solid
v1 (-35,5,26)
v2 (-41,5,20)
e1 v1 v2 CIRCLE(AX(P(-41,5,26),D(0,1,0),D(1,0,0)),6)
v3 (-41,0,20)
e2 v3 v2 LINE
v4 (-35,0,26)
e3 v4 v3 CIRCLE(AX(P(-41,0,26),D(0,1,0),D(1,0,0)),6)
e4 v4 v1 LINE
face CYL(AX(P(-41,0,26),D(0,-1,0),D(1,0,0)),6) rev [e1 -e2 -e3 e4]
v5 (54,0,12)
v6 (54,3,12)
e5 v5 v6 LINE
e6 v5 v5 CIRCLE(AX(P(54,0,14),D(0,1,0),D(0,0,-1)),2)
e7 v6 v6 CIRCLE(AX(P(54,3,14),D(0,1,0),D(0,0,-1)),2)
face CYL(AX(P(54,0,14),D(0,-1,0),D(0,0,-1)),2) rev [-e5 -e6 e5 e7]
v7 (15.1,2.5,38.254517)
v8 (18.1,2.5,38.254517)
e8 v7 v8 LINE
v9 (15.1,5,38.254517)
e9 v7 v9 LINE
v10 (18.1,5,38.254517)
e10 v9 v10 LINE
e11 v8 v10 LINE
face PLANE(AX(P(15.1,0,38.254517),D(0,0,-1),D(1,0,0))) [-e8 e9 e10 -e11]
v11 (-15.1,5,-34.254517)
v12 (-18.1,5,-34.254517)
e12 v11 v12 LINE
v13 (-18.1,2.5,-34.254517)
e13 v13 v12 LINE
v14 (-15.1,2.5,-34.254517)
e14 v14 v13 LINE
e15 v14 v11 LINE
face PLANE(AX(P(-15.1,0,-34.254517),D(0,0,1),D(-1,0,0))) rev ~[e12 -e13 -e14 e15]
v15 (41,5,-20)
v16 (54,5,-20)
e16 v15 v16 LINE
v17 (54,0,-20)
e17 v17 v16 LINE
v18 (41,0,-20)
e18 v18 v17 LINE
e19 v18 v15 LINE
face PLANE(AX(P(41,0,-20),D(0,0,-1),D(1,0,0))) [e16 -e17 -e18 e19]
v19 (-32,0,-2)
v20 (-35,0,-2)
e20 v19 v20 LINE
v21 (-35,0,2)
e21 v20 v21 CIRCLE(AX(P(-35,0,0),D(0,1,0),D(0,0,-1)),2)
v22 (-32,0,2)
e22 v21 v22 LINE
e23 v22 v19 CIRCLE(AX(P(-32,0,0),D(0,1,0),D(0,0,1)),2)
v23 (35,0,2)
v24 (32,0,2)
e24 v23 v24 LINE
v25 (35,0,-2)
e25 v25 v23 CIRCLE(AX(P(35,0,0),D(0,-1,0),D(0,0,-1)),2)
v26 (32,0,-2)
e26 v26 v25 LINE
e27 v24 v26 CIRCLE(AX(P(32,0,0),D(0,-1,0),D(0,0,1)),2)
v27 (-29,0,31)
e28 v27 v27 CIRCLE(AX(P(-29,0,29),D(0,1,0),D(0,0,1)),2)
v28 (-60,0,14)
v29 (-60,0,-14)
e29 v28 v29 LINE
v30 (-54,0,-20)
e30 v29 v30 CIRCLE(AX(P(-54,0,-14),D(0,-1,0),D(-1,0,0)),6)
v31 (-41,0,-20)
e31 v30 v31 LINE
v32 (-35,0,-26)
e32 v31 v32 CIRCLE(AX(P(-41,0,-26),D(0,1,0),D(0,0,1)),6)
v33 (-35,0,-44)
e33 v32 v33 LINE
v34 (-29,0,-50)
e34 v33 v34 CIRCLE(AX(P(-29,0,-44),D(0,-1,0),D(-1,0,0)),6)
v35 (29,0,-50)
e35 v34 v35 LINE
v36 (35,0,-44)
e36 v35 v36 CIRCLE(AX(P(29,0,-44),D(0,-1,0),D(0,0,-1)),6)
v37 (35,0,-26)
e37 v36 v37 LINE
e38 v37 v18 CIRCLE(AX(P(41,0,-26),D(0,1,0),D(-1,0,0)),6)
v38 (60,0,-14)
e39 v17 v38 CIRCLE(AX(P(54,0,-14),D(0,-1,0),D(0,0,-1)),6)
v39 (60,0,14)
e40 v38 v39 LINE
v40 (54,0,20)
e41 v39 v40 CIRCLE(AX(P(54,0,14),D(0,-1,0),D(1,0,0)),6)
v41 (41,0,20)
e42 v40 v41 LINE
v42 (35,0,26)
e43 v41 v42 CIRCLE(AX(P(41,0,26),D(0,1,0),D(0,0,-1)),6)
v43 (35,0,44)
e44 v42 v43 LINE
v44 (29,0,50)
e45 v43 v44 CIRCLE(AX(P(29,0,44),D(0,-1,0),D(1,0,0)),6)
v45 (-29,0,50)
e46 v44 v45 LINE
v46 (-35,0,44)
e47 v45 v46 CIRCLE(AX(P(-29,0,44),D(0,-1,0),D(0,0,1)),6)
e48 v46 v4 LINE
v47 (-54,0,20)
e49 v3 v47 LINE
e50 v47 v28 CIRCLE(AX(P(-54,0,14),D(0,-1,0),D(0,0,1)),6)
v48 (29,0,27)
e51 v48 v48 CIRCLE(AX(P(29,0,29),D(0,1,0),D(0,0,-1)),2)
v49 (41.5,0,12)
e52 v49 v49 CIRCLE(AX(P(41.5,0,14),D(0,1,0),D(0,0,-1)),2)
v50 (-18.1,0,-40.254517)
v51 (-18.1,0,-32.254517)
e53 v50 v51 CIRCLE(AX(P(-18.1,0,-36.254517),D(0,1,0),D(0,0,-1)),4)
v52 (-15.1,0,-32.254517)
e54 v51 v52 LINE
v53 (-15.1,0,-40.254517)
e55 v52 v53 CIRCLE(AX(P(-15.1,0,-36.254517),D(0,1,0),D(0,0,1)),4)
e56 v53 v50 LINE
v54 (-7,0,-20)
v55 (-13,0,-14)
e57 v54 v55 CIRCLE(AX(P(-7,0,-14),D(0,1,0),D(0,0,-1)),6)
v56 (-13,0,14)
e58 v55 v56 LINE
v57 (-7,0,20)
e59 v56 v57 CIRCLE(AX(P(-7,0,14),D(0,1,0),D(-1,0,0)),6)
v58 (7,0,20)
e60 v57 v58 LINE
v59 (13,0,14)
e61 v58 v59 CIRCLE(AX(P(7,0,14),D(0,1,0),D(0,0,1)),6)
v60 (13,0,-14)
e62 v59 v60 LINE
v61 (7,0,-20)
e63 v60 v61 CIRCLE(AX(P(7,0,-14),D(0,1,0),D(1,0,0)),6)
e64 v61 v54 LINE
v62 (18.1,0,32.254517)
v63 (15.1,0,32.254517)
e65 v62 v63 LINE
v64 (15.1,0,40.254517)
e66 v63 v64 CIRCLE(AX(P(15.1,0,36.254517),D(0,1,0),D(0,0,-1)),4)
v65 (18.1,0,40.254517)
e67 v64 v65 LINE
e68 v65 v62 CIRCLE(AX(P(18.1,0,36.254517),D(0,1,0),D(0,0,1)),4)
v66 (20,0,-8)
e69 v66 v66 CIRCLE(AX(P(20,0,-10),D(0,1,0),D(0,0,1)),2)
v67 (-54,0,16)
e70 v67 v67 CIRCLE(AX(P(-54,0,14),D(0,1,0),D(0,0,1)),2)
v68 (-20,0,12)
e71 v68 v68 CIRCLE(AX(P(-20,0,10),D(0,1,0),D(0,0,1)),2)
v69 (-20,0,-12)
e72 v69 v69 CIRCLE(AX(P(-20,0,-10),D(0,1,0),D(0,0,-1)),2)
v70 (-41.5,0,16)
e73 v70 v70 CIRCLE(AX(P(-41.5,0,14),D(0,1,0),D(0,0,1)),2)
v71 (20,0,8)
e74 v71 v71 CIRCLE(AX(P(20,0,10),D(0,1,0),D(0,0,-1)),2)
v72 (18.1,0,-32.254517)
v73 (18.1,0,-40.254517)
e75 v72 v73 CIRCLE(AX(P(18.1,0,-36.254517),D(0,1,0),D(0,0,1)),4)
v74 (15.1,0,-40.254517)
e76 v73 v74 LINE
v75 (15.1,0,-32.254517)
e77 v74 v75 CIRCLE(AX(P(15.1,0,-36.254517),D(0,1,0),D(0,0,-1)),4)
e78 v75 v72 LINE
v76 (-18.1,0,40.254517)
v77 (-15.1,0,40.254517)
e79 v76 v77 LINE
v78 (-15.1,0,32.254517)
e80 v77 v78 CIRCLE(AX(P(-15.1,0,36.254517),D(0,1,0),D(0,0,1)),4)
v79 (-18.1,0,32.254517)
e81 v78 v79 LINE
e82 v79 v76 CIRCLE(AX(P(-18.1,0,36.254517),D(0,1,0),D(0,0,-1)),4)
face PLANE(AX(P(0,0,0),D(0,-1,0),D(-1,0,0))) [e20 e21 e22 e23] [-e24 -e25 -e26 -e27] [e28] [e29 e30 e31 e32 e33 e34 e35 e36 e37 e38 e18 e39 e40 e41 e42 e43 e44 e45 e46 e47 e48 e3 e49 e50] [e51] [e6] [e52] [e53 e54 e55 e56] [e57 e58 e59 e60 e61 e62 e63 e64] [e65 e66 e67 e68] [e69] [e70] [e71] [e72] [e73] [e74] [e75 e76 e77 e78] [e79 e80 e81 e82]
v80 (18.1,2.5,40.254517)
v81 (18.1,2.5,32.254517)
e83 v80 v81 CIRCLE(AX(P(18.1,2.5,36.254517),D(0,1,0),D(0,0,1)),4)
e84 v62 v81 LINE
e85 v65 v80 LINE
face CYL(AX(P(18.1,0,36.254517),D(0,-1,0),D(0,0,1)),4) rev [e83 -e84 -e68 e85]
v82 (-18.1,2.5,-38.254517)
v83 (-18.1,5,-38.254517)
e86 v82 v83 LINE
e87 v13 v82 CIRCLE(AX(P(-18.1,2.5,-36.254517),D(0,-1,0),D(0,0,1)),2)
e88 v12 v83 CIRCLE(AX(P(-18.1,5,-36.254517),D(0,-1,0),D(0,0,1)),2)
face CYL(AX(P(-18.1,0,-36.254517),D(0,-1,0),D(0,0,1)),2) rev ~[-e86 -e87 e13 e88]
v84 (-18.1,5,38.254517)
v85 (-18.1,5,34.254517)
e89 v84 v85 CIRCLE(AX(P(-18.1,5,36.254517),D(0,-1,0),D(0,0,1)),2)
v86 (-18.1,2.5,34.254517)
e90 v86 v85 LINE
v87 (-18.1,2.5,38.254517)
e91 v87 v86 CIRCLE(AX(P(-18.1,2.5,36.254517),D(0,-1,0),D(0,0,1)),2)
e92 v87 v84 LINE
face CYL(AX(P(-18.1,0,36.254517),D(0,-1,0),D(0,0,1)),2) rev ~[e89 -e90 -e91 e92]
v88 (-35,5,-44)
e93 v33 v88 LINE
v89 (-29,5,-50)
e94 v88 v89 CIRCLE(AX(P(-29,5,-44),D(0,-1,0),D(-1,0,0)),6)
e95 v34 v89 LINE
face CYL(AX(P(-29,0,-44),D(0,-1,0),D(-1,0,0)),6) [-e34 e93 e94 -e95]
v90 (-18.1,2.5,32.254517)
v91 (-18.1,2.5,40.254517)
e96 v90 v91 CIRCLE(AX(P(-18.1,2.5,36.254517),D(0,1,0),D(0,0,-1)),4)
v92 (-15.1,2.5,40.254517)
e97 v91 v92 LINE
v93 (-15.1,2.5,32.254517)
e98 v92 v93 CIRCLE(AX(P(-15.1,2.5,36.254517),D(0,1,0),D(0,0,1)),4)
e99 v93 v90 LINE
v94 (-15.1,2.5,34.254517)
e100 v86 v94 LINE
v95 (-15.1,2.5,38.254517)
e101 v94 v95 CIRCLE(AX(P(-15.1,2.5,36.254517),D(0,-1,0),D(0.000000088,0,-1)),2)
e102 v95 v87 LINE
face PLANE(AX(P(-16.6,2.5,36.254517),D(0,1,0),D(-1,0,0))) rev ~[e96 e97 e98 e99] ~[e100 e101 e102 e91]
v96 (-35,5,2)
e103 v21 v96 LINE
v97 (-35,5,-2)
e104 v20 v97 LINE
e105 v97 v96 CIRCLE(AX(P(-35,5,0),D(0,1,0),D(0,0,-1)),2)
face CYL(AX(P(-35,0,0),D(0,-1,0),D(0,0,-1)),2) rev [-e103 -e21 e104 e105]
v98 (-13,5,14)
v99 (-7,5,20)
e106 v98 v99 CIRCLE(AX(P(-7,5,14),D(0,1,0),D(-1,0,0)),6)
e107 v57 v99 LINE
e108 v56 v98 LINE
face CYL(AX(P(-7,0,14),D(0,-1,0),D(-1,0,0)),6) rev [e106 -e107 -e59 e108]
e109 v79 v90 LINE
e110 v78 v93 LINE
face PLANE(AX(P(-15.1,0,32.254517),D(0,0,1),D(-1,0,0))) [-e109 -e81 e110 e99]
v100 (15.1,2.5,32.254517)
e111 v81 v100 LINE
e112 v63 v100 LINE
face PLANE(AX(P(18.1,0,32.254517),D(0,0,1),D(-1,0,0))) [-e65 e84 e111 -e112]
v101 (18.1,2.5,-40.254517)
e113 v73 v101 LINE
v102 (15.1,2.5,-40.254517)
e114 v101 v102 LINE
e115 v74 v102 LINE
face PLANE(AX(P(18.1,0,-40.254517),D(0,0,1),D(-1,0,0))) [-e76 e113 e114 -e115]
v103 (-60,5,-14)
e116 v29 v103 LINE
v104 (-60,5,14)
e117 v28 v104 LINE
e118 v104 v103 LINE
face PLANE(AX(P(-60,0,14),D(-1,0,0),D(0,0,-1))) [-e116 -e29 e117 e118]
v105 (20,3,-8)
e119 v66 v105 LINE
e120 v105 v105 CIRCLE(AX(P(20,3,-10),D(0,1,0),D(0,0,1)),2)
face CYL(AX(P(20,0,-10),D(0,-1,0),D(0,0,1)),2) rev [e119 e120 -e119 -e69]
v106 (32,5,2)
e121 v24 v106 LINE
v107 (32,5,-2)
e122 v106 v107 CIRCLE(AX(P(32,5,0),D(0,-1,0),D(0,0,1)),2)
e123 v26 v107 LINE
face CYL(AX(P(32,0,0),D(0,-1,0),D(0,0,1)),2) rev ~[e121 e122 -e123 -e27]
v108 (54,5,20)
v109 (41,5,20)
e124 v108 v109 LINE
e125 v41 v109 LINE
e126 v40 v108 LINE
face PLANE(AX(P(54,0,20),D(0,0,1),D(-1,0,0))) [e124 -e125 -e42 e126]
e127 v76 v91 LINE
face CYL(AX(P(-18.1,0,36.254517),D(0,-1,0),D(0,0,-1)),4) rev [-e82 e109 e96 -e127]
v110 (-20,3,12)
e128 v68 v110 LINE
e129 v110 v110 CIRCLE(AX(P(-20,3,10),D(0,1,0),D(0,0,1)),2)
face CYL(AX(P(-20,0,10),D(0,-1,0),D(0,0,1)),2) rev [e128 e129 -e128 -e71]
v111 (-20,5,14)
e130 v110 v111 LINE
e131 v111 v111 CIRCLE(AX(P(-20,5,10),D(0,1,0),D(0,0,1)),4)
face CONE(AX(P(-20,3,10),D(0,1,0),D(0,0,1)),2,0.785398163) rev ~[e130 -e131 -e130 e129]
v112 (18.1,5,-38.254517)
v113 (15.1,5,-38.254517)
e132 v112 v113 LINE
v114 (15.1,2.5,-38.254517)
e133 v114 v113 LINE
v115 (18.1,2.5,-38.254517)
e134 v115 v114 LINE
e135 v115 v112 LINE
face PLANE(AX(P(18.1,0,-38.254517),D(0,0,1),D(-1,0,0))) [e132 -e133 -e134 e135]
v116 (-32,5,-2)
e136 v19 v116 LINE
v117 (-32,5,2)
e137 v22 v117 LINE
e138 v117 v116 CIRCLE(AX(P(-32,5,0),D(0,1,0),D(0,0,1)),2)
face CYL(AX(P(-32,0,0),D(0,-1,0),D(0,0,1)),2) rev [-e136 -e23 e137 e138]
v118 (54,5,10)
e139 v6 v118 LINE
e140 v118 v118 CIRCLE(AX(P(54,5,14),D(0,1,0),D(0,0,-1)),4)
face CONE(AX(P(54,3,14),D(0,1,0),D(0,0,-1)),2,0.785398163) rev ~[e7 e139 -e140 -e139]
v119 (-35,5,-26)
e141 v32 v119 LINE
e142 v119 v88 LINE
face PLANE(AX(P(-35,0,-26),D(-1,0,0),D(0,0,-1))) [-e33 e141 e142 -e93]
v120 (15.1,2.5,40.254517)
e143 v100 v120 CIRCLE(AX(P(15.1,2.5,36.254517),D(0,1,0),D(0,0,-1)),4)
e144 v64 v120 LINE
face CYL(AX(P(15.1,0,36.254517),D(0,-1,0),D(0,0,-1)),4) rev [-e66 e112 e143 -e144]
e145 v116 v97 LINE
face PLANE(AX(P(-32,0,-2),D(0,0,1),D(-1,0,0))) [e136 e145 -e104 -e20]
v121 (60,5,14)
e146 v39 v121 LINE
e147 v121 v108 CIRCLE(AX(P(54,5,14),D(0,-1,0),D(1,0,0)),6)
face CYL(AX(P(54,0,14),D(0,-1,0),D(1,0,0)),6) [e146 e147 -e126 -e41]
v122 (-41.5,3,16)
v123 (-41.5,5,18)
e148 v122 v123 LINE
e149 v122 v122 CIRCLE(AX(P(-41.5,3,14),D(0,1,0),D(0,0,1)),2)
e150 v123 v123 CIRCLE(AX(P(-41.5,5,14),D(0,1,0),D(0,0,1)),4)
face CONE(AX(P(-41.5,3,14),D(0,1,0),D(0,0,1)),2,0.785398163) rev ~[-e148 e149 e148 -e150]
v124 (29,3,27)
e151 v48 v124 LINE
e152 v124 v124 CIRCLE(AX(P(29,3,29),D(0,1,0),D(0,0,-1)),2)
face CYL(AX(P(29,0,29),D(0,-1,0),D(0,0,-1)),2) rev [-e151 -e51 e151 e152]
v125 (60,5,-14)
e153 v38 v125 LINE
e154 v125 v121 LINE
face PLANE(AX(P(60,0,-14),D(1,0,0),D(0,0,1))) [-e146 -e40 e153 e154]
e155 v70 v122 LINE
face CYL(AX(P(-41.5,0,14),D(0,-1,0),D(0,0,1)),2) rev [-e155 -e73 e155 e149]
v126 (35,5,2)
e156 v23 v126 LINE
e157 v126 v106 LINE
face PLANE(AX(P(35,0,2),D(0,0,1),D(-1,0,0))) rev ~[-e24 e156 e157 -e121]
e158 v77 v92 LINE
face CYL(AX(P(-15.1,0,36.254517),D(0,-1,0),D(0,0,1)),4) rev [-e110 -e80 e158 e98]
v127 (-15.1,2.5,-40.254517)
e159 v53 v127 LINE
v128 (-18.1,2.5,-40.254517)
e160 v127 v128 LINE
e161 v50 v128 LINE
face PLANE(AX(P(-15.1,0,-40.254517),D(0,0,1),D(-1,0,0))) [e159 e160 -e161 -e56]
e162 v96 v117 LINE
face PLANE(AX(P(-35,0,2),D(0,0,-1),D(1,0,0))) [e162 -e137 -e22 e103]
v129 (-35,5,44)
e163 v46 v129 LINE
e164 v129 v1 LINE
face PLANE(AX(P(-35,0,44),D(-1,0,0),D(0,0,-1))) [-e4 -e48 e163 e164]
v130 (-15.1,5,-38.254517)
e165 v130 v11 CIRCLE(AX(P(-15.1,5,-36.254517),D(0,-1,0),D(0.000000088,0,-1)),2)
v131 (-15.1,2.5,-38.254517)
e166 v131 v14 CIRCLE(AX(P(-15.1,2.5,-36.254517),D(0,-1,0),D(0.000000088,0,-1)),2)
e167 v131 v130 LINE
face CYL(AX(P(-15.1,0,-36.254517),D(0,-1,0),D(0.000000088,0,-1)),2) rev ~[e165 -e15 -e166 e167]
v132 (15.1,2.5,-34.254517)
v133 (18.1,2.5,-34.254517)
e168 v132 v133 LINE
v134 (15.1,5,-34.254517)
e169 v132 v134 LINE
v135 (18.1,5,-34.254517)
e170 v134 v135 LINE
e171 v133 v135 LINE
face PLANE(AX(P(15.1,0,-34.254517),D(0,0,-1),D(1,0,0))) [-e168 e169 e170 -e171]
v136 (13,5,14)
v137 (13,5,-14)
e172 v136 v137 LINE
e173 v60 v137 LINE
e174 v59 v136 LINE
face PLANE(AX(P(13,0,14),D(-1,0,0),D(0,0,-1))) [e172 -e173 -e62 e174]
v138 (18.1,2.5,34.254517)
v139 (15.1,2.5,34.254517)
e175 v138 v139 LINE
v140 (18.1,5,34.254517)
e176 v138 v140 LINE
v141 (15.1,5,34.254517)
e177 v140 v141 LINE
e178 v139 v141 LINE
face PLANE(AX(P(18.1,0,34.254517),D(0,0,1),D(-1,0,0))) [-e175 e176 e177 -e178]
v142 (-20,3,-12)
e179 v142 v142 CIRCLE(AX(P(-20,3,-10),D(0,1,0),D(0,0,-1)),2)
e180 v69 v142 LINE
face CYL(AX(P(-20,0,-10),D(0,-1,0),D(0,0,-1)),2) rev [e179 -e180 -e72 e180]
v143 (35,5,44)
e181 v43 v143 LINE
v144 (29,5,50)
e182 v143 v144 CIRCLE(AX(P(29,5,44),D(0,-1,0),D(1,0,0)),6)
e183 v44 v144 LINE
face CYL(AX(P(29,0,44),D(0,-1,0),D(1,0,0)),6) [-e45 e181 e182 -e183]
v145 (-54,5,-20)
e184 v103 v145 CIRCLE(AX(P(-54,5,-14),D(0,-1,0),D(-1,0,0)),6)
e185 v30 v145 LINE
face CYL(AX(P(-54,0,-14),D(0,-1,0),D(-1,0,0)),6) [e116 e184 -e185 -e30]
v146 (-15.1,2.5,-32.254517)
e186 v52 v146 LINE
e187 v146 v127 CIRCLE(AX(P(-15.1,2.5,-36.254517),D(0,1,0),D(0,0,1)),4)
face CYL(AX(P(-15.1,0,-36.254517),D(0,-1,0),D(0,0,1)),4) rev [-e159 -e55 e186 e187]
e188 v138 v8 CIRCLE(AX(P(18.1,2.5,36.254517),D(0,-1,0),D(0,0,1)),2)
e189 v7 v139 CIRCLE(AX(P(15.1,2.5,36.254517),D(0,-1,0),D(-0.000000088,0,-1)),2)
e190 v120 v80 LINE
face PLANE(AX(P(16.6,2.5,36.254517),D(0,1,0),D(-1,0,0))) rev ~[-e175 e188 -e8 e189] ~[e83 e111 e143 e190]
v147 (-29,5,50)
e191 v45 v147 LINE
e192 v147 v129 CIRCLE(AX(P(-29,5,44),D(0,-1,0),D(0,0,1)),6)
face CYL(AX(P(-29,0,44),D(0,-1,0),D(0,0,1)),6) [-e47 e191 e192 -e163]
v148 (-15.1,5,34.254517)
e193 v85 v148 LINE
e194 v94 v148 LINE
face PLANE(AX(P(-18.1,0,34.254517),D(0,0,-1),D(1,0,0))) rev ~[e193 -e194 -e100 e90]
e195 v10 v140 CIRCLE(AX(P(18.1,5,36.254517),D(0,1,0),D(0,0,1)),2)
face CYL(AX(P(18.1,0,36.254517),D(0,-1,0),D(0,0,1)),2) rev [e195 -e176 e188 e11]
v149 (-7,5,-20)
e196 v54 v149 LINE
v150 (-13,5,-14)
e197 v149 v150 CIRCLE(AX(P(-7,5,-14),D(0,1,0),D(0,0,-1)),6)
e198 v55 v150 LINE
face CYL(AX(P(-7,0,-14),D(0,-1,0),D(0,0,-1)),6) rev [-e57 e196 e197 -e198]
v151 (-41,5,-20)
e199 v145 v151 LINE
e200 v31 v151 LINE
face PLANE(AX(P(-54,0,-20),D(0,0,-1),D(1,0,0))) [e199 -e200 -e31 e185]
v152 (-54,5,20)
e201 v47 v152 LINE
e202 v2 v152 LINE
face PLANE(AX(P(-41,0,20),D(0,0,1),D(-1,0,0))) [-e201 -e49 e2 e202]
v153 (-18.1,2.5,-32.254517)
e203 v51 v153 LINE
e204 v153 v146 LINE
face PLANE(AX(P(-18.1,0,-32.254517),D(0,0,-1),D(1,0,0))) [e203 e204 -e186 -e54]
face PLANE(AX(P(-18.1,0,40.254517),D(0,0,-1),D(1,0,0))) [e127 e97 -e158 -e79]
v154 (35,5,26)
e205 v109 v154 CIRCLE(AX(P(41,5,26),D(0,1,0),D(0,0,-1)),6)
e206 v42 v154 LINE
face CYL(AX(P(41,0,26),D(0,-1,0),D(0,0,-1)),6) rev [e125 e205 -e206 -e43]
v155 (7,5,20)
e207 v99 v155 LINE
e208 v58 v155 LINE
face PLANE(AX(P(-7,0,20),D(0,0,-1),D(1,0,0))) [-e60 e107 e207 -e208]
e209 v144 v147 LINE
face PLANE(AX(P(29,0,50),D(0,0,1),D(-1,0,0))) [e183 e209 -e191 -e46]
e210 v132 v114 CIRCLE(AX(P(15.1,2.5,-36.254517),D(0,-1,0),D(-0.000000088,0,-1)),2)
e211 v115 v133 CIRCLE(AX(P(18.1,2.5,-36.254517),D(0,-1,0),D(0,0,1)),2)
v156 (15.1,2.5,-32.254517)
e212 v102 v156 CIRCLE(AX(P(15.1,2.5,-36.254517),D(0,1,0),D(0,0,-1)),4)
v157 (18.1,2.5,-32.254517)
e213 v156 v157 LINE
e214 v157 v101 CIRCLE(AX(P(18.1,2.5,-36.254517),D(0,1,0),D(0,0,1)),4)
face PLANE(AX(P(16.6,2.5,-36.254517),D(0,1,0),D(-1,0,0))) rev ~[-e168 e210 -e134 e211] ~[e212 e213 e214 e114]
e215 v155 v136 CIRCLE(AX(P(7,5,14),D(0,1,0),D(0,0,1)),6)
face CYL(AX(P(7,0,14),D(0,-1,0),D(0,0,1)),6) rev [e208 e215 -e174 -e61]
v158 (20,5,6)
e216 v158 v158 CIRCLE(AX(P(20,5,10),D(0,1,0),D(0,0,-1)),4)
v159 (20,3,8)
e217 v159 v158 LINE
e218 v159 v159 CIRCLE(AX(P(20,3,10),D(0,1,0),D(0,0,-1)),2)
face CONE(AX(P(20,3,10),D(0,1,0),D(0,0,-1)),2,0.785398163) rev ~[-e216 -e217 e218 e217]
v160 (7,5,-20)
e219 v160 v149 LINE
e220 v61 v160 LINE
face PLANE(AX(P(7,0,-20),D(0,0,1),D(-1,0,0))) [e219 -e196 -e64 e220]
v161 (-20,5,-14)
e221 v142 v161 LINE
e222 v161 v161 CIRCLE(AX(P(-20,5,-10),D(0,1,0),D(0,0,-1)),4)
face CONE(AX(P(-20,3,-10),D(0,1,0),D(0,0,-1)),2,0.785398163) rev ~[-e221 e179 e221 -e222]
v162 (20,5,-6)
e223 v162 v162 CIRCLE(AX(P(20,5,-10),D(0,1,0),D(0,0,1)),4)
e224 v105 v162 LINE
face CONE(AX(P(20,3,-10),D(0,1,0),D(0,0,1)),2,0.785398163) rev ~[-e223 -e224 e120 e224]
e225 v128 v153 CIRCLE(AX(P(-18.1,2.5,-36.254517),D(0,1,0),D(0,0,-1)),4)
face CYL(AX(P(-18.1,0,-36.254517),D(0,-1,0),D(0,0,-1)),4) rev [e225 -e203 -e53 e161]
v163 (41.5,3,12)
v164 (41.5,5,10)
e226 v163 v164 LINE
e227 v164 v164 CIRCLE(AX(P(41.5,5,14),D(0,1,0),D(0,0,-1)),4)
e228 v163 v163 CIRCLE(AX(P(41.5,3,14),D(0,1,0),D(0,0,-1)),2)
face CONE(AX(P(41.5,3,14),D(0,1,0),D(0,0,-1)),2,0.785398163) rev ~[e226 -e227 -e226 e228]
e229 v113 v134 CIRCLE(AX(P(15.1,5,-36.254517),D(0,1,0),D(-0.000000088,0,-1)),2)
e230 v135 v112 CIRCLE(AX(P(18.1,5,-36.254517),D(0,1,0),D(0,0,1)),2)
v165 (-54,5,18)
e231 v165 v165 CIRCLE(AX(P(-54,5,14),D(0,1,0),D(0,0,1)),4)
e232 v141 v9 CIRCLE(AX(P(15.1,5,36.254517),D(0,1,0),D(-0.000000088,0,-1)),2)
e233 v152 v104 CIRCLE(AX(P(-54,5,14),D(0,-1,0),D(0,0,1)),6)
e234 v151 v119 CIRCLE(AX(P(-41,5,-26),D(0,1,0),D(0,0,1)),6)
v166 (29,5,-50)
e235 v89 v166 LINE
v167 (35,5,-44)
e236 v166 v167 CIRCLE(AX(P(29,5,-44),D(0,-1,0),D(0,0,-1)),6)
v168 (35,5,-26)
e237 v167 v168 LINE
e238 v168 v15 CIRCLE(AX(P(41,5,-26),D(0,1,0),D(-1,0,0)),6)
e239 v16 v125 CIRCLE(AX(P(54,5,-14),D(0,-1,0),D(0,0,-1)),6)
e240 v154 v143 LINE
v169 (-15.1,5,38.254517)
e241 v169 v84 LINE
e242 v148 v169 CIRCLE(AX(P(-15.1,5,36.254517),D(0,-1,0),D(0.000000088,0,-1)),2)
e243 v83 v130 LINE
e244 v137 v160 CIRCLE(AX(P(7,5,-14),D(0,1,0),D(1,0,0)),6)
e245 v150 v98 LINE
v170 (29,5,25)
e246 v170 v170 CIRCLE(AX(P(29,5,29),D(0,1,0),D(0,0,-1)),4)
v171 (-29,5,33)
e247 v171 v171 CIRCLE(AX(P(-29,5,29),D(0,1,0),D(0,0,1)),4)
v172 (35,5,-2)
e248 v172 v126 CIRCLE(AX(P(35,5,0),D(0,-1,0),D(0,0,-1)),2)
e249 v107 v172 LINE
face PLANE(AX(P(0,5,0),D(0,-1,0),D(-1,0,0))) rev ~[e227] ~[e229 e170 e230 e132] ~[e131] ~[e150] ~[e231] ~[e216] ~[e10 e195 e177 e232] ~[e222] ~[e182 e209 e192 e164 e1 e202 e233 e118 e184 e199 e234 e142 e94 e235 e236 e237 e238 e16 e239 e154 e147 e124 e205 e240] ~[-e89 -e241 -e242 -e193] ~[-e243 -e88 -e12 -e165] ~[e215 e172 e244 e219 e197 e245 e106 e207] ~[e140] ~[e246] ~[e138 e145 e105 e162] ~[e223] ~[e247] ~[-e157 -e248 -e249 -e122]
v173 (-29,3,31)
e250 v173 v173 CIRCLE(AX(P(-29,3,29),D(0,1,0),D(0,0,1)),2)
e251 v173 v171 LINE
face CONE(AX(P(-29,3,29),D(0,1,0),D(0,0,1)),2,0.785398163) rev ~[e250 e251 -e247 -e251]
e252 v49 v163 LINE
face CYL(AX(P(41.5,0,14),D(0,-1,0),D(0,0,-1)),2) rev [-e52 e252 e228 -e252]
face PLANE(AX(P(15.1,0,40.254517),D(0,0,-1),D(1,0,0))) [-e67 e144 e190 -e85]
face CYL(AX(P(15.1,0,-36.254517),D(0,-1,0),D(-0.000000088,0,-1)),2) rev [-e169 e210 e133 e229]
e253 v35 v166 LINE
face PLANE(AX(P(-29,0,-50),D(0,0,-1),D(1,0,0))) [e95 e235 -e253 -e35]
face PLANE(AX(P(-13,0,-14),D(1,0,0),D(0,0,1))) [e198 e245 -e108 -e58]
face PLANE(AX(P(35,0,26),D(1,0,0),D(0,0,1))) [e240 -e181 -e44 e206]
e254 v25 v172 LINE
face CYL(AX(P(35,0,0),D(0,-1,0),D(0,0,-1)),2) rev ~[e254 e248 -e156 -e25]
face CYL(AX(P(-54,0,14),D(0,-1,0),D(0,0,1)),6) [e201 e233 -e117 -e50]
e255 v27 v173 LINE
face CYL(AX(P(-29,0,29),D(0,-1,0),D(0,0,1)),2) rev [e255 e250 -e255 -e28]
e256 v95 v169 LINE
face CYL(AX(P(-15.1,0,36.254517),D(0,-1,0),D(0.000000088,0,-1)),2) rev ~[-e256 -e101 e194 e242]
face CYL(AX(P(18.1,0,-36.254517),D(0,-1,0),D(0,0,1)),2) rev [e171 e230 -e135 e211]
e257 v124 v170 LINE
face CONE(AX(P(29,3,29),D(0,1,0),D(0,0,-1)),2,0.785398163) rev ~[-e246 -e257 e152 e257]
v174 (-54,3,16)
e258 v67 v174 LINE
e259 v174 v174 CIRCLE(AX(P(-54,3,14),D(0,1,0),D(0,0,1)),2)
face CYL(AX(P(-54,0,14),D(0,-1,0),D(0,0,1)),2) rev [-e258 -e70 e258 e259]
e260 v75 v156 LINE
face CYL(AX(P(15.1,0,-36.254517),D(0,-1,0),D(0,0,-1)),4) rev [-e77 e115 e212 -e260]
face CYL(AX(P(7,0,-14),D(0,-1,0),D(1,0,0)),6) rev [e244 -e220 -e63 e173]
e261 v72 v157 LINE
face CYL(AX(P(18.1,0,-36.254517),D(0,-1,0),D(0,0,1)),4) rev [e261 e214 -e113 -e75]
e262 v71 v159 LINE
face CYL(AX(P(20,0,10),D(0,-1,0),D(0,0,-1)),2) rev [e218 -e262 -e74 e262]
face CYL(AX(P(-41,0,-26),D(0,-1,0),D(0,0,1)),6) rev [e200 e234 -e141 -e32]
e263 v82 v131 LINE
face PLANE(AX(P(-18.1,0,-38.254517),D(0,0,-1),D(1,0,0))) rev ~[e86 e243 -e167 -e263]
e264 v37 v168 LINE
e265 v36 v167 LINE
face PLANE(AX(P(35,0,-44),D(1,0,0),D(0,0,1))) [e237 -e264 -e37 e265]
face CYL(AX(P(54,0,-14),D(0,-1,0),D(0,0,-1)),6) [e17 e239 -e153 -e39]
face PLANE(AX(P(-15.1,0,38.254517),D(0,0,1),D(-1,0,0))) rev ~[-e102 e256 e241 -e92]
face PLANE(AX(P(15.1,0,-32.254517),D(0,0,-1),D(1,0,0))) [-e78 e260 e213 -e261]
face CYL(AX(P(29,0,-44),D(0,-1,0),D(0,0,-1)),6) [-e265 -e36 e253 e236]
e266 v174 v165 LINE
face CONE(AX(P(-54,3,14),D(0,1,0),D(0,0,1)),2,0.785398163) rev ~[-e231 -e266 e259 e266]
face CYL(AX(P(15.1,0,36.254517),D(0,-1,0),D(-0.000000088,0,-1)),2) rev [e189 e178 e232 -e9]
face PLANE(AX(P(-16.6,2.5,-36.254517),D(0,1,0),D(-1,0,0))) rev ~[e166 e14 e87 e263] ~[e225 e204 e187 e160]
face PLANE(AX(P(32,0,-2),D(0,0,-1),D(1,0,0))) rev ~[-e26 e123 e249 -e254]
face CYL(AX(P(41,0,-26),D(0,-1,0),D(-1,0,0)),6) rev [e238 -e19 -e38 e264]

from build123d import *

# Parameters (mm, degrees)
ESQUISSE1_R             = 2
BOSS_EXTRU_1_DEPTH      = 5
CHANFREIN1_SIZE         = 2
ENL_V_MAT_EXTRU_1_DEPTH = 2.5


with BuildPart() as part:
    # Esquisse1 → Boss.-Extru.1 (new body)
    with BuildSketch(Plane(origin=(0, 0, 0), x_dir=(1, 0, 0), z_dir=(0, 1, 0))):
        with BuildLine():
            Line((60, 14), (60, -14))
            ThreePointArc((60, -14), (58.242640687, -18.242640687), (54, -20))
            Line((54, -20), (41, -20))
            ThreePointArc((41, -20), (36.757359313, -21.757359313), (35, -26))
            Line((35, -26), (35, -44))
            ThreePointArc((35, -44), (33.242640687, -48.242640687), (29, -50))
            Line((29, -50), (-29, -50))
            ThreePointArc((-29, -50), (-33.242640687, -48.242640687), (-35, -44))
            Line((-35, -44), (-35, -26))
            ThreePointArc((-35, -26), (-36.757359313, -21.757359313), (-41, -20))
            Line((-41, -20), (-54, -20))
            ThreePointArc((-54, -20), (-58.242640687, -18.242640687), (-60, -14))
            Line((-60, -14), (-60, 14))
            ThreePointArc((-60, 14), (-58.242640687, 18.242640687), (-54, 20))
            Line((-54, 20), (-41, 20))
            ThreePointArc((-41, 20), (-36.757359313, 21.757359313), (-35, 26))
            Line((-35, 26), (-35, 44))
            ThreePointArc((-35, 44), (-33.242640687, 48.242640687), (-29, 50))
            Line((-29, 50), (29, 50))
            ThreePointArc((29, 50), (33.242640687, 48.242640687), (35, 44))
            Line((35, 44), (35, 26))
            ThreePointArc((35, 26), (36.757359313, 21.757359313), (41, 20))
            Line((41, 20), (54, 20))
            ThreePointArc((54, 20), (58.242640687, 18.242640687), (60, 14))
        make_face()
        with Locations(Location((20, -10, 0), (0, 0, 90))):
            Circle(ESQUISSE1_R, mode=Mode.SUBTRACT)
        with Locations(Location((-20, -10, 0), (0, 0, 270))):
            Circle(ESQUISSE1_R, mode=Mode.SUBTRACT)
        with Locations(Location((-54, -14, 0), (0, 0, 270))):
            Circle(ESQUISSE1_R, mode=Mode.SUBTRACT)
        with Locations(Location((20, 10, 0), (0, 0, 270))):
            Circle(ESQUISSE1_R, mode=Mode.SUBTRACT)
        with Locations(Location((-20, 10, 0), (0, 0, 90))):
            Circle(ESQUISSE1_R, mode=Mode.SUBTRACT)
        with Locations(Location((-41.5, -14, 0), (0, 0, 270))):
            Circle(ESQUISSE1_R, mode=Mode.SUBTRACT)
        with Locations(Location((-29, -29, 0), (0, 0, 270))):
            Circle(ESQUISSE1_R, mode=Mode.SUBTRACT)
        with Locations(Location((54, -14, 0), (0, 0, 90))):
            Circle(ESQUISSE1_R, mode=Mode.SUBTRACT)
        with Locations(Location((41.5, -14, 0), (0, 0, 90))):
            Circle(ESQUISSE1_R, mode=Mode.SUBTRACT)
        with Locations(Location((29, -29, 0), (0, 0, 90))):
            Circle(ESQUISSE1_R, mode=Mode.SUBTRACT)
        with BuildLine():
            Line((35, -2), (32, -2))
            ThreePointArc((32, -2), (30, 0), (32, 2))
            Line((32, 2), (35, 2))
            ThreePointArc((35, 2), (37, 0), (35, -2))
        make_face(mode=Mode.SUBTRACT)
        with BuildLine():
            Line((13, -14), (13, 14))
            ThreePointArc((13, 14), (11.242640687, 18.242640687), (7, 20))
            Line((7, 20), (-7, 20))
            ThreePointArc((-7, 20), (-11.242640687, 18.242640687), (-13, 14))
            Line((-13, 14), (-13, -14))
            ThreePointArc((-13, -14), (-11.242640687, -18.242640687), (-7, -20))
            Line((-7, -20), (7, -20))
            ThreePointArc((7, -20), (11.242640687, -18.242640687), (13, -14))
        make_face(mode=Mode.SUBTRACT)
        with BuildLine():
            Line((-18.1, -34.25451696), (-15.099999825, -34.25451696))
            ThreePointArc((-15.099999825, -34.25451696), (-13.1, -36.25451696), (-15.099999825, -38.25451696))
            Line((-15.099999825, -38.25451696), (-18.1, -38.25451696))
            ThreePointArc((-18.1, -38.25451696), (-20.1, -36.25451696), (-18.1, -34.25451696))
        make_face(mode=Mode.SUBTRACT)
        with BuildLine():
            Line((-35, -2), (-32, -2))
            ThreePointArc((-32, -2), (-30, 0), (-32, 2))
            Line((-32, 2), (-35, 2))
            ThreePointArc((-35, 2), (-37, 0), (-35, -2))
        make_face(mode=Mode.SUBTRACT)
        with BuildLine():
            Line((18.1, -34.25451696), (15.099999825, -34.25451696))
            ThreePointArc((15.099999825, -34.25451696), (13.1, -36.25451696), (15.099999825, -38.25451696))
            Line((15.099999825, -38.25451696), (18.1, -38.25451696))
            ThreePointArc((18.1, -38.25451696), (20.1, -36.25451696), (18.1, -34.25451696))
        make_face(mode=Mode.SUBTRACT)
        with BuildLine():
            Line((-18.1, 38.25451696), (-15.099999825, 38.25451696))
            ThreePointArc((-15.099999825, 38.25451696), (-13.1, 36.25451696), (-15.099999825, 34.25451696))
            Line((-15.099999825, 34.25451696), (-18.1, 34.25451696))
            ThreePointArc((-18.1, 34.25451696), (-20.1, 36.25451696), (-18.1, 38.25451696))
        make_face(mode=Mode.SUBTRACT)
        with BuildLine():
            Line((18.1, 38.25451696), (15.099999825, 38.25451696))
            ThreePointArc((15.099999825, 38.25451696), (13.1, 36.25451696), (15.099999825, 34.25451696))
            Line((15.099999825, 34.25451696), (18.1, 34.25451696))
            ThreePointArc((18.1, 34.25451696), (20.1, 36.25451696), (18.1, 38.25451696))
        make_face(mode=Mode.SUBTRACT)
    extrude(amount=BOSS_EXTRU_1_DEPTH)

    # Chanfrein1
    chanfrein1_edges = [part.edges().sort_by_distance(p)[0] for p in [
        (20, 5, 12),
        (-20, 5, 8),
        (20, 5, -12),
        (-20, 5, -8),
        (-54, 5, 12),
        (-41.5, 5, 12),
        (-29, 5, 27),
        (54, 5, 16),
        (41.5, 5, 16),
        (29, 5, 31),
    ]]
    chamfer(chanfrein1_edges, length=CHANFREIN1_SIZE)

    # Esquisse2 → Enlèv. mat.-Extru.1 (cut)
    with BuildSketch(Plane.XZ):
        with BuildLine():
            Line((-18.1, -32.25451696), (-15.1, -32.25451696))
            ThreePointArc((-15.1, -32.25451696), (-11.1, -36.25451696), (-15.1, -40.25451696))
            Line((-15.1, -40.25451696), (-18.1, -40.25451696))
            ThreePointArc((-18.1, -40.25451696), (-22.1, -36.25451696), (-18.1, -32.25451696))
        make_face()
        with BuildLine():
            Line((-18.1, 40.25451696), (-15.1, 40.25451696))
            ThreePointArc((-15.1, 40.25451696), (-11.1, 36.25451696), (-15.1, 32.25451696))
            Line((-15.1, 32.25451696), (-18.1, 32.25451696))
            ThreePointArc((-18.1, 32.25451696), (-22.1, 36.25451696), (-18.1, 40.25451696))
        make_face()
        with BuildLine():
            Line((18.1, 32.25451696), (15.1, 32.25451696))
            ThreePointArc((15.1, 32.25451696), (11.1, 36.25451696), (15.1, 40.25451696))
            Line((15.1, 40.25451696), (18.1, 40.25451696))
            ThreePointArc((18.1, 40.25451696), (22.1, 36.25451696), (18.1, 32.25451696))
        make_face()
        with BuildLine():
            Line((18.1, -40.25451696), (15.1, -40.25451696))
            ThreePointArc((15.1, -40.25451696), (11.1, -36.25451696), (15.1, -32.25451696))
            Line((15.1, -32.25451696), (18.1, -32.25451696))
            ThreePointArc((18.1, -32.25451696), (22.1, -36.25451696), (18.1, -40.25451696))
        make_face()
    extrude(amount=-ENL_V_MAT_EXTRU_1_DEPTH, mode=Mode.SUBTRACT)


solid = part.part
